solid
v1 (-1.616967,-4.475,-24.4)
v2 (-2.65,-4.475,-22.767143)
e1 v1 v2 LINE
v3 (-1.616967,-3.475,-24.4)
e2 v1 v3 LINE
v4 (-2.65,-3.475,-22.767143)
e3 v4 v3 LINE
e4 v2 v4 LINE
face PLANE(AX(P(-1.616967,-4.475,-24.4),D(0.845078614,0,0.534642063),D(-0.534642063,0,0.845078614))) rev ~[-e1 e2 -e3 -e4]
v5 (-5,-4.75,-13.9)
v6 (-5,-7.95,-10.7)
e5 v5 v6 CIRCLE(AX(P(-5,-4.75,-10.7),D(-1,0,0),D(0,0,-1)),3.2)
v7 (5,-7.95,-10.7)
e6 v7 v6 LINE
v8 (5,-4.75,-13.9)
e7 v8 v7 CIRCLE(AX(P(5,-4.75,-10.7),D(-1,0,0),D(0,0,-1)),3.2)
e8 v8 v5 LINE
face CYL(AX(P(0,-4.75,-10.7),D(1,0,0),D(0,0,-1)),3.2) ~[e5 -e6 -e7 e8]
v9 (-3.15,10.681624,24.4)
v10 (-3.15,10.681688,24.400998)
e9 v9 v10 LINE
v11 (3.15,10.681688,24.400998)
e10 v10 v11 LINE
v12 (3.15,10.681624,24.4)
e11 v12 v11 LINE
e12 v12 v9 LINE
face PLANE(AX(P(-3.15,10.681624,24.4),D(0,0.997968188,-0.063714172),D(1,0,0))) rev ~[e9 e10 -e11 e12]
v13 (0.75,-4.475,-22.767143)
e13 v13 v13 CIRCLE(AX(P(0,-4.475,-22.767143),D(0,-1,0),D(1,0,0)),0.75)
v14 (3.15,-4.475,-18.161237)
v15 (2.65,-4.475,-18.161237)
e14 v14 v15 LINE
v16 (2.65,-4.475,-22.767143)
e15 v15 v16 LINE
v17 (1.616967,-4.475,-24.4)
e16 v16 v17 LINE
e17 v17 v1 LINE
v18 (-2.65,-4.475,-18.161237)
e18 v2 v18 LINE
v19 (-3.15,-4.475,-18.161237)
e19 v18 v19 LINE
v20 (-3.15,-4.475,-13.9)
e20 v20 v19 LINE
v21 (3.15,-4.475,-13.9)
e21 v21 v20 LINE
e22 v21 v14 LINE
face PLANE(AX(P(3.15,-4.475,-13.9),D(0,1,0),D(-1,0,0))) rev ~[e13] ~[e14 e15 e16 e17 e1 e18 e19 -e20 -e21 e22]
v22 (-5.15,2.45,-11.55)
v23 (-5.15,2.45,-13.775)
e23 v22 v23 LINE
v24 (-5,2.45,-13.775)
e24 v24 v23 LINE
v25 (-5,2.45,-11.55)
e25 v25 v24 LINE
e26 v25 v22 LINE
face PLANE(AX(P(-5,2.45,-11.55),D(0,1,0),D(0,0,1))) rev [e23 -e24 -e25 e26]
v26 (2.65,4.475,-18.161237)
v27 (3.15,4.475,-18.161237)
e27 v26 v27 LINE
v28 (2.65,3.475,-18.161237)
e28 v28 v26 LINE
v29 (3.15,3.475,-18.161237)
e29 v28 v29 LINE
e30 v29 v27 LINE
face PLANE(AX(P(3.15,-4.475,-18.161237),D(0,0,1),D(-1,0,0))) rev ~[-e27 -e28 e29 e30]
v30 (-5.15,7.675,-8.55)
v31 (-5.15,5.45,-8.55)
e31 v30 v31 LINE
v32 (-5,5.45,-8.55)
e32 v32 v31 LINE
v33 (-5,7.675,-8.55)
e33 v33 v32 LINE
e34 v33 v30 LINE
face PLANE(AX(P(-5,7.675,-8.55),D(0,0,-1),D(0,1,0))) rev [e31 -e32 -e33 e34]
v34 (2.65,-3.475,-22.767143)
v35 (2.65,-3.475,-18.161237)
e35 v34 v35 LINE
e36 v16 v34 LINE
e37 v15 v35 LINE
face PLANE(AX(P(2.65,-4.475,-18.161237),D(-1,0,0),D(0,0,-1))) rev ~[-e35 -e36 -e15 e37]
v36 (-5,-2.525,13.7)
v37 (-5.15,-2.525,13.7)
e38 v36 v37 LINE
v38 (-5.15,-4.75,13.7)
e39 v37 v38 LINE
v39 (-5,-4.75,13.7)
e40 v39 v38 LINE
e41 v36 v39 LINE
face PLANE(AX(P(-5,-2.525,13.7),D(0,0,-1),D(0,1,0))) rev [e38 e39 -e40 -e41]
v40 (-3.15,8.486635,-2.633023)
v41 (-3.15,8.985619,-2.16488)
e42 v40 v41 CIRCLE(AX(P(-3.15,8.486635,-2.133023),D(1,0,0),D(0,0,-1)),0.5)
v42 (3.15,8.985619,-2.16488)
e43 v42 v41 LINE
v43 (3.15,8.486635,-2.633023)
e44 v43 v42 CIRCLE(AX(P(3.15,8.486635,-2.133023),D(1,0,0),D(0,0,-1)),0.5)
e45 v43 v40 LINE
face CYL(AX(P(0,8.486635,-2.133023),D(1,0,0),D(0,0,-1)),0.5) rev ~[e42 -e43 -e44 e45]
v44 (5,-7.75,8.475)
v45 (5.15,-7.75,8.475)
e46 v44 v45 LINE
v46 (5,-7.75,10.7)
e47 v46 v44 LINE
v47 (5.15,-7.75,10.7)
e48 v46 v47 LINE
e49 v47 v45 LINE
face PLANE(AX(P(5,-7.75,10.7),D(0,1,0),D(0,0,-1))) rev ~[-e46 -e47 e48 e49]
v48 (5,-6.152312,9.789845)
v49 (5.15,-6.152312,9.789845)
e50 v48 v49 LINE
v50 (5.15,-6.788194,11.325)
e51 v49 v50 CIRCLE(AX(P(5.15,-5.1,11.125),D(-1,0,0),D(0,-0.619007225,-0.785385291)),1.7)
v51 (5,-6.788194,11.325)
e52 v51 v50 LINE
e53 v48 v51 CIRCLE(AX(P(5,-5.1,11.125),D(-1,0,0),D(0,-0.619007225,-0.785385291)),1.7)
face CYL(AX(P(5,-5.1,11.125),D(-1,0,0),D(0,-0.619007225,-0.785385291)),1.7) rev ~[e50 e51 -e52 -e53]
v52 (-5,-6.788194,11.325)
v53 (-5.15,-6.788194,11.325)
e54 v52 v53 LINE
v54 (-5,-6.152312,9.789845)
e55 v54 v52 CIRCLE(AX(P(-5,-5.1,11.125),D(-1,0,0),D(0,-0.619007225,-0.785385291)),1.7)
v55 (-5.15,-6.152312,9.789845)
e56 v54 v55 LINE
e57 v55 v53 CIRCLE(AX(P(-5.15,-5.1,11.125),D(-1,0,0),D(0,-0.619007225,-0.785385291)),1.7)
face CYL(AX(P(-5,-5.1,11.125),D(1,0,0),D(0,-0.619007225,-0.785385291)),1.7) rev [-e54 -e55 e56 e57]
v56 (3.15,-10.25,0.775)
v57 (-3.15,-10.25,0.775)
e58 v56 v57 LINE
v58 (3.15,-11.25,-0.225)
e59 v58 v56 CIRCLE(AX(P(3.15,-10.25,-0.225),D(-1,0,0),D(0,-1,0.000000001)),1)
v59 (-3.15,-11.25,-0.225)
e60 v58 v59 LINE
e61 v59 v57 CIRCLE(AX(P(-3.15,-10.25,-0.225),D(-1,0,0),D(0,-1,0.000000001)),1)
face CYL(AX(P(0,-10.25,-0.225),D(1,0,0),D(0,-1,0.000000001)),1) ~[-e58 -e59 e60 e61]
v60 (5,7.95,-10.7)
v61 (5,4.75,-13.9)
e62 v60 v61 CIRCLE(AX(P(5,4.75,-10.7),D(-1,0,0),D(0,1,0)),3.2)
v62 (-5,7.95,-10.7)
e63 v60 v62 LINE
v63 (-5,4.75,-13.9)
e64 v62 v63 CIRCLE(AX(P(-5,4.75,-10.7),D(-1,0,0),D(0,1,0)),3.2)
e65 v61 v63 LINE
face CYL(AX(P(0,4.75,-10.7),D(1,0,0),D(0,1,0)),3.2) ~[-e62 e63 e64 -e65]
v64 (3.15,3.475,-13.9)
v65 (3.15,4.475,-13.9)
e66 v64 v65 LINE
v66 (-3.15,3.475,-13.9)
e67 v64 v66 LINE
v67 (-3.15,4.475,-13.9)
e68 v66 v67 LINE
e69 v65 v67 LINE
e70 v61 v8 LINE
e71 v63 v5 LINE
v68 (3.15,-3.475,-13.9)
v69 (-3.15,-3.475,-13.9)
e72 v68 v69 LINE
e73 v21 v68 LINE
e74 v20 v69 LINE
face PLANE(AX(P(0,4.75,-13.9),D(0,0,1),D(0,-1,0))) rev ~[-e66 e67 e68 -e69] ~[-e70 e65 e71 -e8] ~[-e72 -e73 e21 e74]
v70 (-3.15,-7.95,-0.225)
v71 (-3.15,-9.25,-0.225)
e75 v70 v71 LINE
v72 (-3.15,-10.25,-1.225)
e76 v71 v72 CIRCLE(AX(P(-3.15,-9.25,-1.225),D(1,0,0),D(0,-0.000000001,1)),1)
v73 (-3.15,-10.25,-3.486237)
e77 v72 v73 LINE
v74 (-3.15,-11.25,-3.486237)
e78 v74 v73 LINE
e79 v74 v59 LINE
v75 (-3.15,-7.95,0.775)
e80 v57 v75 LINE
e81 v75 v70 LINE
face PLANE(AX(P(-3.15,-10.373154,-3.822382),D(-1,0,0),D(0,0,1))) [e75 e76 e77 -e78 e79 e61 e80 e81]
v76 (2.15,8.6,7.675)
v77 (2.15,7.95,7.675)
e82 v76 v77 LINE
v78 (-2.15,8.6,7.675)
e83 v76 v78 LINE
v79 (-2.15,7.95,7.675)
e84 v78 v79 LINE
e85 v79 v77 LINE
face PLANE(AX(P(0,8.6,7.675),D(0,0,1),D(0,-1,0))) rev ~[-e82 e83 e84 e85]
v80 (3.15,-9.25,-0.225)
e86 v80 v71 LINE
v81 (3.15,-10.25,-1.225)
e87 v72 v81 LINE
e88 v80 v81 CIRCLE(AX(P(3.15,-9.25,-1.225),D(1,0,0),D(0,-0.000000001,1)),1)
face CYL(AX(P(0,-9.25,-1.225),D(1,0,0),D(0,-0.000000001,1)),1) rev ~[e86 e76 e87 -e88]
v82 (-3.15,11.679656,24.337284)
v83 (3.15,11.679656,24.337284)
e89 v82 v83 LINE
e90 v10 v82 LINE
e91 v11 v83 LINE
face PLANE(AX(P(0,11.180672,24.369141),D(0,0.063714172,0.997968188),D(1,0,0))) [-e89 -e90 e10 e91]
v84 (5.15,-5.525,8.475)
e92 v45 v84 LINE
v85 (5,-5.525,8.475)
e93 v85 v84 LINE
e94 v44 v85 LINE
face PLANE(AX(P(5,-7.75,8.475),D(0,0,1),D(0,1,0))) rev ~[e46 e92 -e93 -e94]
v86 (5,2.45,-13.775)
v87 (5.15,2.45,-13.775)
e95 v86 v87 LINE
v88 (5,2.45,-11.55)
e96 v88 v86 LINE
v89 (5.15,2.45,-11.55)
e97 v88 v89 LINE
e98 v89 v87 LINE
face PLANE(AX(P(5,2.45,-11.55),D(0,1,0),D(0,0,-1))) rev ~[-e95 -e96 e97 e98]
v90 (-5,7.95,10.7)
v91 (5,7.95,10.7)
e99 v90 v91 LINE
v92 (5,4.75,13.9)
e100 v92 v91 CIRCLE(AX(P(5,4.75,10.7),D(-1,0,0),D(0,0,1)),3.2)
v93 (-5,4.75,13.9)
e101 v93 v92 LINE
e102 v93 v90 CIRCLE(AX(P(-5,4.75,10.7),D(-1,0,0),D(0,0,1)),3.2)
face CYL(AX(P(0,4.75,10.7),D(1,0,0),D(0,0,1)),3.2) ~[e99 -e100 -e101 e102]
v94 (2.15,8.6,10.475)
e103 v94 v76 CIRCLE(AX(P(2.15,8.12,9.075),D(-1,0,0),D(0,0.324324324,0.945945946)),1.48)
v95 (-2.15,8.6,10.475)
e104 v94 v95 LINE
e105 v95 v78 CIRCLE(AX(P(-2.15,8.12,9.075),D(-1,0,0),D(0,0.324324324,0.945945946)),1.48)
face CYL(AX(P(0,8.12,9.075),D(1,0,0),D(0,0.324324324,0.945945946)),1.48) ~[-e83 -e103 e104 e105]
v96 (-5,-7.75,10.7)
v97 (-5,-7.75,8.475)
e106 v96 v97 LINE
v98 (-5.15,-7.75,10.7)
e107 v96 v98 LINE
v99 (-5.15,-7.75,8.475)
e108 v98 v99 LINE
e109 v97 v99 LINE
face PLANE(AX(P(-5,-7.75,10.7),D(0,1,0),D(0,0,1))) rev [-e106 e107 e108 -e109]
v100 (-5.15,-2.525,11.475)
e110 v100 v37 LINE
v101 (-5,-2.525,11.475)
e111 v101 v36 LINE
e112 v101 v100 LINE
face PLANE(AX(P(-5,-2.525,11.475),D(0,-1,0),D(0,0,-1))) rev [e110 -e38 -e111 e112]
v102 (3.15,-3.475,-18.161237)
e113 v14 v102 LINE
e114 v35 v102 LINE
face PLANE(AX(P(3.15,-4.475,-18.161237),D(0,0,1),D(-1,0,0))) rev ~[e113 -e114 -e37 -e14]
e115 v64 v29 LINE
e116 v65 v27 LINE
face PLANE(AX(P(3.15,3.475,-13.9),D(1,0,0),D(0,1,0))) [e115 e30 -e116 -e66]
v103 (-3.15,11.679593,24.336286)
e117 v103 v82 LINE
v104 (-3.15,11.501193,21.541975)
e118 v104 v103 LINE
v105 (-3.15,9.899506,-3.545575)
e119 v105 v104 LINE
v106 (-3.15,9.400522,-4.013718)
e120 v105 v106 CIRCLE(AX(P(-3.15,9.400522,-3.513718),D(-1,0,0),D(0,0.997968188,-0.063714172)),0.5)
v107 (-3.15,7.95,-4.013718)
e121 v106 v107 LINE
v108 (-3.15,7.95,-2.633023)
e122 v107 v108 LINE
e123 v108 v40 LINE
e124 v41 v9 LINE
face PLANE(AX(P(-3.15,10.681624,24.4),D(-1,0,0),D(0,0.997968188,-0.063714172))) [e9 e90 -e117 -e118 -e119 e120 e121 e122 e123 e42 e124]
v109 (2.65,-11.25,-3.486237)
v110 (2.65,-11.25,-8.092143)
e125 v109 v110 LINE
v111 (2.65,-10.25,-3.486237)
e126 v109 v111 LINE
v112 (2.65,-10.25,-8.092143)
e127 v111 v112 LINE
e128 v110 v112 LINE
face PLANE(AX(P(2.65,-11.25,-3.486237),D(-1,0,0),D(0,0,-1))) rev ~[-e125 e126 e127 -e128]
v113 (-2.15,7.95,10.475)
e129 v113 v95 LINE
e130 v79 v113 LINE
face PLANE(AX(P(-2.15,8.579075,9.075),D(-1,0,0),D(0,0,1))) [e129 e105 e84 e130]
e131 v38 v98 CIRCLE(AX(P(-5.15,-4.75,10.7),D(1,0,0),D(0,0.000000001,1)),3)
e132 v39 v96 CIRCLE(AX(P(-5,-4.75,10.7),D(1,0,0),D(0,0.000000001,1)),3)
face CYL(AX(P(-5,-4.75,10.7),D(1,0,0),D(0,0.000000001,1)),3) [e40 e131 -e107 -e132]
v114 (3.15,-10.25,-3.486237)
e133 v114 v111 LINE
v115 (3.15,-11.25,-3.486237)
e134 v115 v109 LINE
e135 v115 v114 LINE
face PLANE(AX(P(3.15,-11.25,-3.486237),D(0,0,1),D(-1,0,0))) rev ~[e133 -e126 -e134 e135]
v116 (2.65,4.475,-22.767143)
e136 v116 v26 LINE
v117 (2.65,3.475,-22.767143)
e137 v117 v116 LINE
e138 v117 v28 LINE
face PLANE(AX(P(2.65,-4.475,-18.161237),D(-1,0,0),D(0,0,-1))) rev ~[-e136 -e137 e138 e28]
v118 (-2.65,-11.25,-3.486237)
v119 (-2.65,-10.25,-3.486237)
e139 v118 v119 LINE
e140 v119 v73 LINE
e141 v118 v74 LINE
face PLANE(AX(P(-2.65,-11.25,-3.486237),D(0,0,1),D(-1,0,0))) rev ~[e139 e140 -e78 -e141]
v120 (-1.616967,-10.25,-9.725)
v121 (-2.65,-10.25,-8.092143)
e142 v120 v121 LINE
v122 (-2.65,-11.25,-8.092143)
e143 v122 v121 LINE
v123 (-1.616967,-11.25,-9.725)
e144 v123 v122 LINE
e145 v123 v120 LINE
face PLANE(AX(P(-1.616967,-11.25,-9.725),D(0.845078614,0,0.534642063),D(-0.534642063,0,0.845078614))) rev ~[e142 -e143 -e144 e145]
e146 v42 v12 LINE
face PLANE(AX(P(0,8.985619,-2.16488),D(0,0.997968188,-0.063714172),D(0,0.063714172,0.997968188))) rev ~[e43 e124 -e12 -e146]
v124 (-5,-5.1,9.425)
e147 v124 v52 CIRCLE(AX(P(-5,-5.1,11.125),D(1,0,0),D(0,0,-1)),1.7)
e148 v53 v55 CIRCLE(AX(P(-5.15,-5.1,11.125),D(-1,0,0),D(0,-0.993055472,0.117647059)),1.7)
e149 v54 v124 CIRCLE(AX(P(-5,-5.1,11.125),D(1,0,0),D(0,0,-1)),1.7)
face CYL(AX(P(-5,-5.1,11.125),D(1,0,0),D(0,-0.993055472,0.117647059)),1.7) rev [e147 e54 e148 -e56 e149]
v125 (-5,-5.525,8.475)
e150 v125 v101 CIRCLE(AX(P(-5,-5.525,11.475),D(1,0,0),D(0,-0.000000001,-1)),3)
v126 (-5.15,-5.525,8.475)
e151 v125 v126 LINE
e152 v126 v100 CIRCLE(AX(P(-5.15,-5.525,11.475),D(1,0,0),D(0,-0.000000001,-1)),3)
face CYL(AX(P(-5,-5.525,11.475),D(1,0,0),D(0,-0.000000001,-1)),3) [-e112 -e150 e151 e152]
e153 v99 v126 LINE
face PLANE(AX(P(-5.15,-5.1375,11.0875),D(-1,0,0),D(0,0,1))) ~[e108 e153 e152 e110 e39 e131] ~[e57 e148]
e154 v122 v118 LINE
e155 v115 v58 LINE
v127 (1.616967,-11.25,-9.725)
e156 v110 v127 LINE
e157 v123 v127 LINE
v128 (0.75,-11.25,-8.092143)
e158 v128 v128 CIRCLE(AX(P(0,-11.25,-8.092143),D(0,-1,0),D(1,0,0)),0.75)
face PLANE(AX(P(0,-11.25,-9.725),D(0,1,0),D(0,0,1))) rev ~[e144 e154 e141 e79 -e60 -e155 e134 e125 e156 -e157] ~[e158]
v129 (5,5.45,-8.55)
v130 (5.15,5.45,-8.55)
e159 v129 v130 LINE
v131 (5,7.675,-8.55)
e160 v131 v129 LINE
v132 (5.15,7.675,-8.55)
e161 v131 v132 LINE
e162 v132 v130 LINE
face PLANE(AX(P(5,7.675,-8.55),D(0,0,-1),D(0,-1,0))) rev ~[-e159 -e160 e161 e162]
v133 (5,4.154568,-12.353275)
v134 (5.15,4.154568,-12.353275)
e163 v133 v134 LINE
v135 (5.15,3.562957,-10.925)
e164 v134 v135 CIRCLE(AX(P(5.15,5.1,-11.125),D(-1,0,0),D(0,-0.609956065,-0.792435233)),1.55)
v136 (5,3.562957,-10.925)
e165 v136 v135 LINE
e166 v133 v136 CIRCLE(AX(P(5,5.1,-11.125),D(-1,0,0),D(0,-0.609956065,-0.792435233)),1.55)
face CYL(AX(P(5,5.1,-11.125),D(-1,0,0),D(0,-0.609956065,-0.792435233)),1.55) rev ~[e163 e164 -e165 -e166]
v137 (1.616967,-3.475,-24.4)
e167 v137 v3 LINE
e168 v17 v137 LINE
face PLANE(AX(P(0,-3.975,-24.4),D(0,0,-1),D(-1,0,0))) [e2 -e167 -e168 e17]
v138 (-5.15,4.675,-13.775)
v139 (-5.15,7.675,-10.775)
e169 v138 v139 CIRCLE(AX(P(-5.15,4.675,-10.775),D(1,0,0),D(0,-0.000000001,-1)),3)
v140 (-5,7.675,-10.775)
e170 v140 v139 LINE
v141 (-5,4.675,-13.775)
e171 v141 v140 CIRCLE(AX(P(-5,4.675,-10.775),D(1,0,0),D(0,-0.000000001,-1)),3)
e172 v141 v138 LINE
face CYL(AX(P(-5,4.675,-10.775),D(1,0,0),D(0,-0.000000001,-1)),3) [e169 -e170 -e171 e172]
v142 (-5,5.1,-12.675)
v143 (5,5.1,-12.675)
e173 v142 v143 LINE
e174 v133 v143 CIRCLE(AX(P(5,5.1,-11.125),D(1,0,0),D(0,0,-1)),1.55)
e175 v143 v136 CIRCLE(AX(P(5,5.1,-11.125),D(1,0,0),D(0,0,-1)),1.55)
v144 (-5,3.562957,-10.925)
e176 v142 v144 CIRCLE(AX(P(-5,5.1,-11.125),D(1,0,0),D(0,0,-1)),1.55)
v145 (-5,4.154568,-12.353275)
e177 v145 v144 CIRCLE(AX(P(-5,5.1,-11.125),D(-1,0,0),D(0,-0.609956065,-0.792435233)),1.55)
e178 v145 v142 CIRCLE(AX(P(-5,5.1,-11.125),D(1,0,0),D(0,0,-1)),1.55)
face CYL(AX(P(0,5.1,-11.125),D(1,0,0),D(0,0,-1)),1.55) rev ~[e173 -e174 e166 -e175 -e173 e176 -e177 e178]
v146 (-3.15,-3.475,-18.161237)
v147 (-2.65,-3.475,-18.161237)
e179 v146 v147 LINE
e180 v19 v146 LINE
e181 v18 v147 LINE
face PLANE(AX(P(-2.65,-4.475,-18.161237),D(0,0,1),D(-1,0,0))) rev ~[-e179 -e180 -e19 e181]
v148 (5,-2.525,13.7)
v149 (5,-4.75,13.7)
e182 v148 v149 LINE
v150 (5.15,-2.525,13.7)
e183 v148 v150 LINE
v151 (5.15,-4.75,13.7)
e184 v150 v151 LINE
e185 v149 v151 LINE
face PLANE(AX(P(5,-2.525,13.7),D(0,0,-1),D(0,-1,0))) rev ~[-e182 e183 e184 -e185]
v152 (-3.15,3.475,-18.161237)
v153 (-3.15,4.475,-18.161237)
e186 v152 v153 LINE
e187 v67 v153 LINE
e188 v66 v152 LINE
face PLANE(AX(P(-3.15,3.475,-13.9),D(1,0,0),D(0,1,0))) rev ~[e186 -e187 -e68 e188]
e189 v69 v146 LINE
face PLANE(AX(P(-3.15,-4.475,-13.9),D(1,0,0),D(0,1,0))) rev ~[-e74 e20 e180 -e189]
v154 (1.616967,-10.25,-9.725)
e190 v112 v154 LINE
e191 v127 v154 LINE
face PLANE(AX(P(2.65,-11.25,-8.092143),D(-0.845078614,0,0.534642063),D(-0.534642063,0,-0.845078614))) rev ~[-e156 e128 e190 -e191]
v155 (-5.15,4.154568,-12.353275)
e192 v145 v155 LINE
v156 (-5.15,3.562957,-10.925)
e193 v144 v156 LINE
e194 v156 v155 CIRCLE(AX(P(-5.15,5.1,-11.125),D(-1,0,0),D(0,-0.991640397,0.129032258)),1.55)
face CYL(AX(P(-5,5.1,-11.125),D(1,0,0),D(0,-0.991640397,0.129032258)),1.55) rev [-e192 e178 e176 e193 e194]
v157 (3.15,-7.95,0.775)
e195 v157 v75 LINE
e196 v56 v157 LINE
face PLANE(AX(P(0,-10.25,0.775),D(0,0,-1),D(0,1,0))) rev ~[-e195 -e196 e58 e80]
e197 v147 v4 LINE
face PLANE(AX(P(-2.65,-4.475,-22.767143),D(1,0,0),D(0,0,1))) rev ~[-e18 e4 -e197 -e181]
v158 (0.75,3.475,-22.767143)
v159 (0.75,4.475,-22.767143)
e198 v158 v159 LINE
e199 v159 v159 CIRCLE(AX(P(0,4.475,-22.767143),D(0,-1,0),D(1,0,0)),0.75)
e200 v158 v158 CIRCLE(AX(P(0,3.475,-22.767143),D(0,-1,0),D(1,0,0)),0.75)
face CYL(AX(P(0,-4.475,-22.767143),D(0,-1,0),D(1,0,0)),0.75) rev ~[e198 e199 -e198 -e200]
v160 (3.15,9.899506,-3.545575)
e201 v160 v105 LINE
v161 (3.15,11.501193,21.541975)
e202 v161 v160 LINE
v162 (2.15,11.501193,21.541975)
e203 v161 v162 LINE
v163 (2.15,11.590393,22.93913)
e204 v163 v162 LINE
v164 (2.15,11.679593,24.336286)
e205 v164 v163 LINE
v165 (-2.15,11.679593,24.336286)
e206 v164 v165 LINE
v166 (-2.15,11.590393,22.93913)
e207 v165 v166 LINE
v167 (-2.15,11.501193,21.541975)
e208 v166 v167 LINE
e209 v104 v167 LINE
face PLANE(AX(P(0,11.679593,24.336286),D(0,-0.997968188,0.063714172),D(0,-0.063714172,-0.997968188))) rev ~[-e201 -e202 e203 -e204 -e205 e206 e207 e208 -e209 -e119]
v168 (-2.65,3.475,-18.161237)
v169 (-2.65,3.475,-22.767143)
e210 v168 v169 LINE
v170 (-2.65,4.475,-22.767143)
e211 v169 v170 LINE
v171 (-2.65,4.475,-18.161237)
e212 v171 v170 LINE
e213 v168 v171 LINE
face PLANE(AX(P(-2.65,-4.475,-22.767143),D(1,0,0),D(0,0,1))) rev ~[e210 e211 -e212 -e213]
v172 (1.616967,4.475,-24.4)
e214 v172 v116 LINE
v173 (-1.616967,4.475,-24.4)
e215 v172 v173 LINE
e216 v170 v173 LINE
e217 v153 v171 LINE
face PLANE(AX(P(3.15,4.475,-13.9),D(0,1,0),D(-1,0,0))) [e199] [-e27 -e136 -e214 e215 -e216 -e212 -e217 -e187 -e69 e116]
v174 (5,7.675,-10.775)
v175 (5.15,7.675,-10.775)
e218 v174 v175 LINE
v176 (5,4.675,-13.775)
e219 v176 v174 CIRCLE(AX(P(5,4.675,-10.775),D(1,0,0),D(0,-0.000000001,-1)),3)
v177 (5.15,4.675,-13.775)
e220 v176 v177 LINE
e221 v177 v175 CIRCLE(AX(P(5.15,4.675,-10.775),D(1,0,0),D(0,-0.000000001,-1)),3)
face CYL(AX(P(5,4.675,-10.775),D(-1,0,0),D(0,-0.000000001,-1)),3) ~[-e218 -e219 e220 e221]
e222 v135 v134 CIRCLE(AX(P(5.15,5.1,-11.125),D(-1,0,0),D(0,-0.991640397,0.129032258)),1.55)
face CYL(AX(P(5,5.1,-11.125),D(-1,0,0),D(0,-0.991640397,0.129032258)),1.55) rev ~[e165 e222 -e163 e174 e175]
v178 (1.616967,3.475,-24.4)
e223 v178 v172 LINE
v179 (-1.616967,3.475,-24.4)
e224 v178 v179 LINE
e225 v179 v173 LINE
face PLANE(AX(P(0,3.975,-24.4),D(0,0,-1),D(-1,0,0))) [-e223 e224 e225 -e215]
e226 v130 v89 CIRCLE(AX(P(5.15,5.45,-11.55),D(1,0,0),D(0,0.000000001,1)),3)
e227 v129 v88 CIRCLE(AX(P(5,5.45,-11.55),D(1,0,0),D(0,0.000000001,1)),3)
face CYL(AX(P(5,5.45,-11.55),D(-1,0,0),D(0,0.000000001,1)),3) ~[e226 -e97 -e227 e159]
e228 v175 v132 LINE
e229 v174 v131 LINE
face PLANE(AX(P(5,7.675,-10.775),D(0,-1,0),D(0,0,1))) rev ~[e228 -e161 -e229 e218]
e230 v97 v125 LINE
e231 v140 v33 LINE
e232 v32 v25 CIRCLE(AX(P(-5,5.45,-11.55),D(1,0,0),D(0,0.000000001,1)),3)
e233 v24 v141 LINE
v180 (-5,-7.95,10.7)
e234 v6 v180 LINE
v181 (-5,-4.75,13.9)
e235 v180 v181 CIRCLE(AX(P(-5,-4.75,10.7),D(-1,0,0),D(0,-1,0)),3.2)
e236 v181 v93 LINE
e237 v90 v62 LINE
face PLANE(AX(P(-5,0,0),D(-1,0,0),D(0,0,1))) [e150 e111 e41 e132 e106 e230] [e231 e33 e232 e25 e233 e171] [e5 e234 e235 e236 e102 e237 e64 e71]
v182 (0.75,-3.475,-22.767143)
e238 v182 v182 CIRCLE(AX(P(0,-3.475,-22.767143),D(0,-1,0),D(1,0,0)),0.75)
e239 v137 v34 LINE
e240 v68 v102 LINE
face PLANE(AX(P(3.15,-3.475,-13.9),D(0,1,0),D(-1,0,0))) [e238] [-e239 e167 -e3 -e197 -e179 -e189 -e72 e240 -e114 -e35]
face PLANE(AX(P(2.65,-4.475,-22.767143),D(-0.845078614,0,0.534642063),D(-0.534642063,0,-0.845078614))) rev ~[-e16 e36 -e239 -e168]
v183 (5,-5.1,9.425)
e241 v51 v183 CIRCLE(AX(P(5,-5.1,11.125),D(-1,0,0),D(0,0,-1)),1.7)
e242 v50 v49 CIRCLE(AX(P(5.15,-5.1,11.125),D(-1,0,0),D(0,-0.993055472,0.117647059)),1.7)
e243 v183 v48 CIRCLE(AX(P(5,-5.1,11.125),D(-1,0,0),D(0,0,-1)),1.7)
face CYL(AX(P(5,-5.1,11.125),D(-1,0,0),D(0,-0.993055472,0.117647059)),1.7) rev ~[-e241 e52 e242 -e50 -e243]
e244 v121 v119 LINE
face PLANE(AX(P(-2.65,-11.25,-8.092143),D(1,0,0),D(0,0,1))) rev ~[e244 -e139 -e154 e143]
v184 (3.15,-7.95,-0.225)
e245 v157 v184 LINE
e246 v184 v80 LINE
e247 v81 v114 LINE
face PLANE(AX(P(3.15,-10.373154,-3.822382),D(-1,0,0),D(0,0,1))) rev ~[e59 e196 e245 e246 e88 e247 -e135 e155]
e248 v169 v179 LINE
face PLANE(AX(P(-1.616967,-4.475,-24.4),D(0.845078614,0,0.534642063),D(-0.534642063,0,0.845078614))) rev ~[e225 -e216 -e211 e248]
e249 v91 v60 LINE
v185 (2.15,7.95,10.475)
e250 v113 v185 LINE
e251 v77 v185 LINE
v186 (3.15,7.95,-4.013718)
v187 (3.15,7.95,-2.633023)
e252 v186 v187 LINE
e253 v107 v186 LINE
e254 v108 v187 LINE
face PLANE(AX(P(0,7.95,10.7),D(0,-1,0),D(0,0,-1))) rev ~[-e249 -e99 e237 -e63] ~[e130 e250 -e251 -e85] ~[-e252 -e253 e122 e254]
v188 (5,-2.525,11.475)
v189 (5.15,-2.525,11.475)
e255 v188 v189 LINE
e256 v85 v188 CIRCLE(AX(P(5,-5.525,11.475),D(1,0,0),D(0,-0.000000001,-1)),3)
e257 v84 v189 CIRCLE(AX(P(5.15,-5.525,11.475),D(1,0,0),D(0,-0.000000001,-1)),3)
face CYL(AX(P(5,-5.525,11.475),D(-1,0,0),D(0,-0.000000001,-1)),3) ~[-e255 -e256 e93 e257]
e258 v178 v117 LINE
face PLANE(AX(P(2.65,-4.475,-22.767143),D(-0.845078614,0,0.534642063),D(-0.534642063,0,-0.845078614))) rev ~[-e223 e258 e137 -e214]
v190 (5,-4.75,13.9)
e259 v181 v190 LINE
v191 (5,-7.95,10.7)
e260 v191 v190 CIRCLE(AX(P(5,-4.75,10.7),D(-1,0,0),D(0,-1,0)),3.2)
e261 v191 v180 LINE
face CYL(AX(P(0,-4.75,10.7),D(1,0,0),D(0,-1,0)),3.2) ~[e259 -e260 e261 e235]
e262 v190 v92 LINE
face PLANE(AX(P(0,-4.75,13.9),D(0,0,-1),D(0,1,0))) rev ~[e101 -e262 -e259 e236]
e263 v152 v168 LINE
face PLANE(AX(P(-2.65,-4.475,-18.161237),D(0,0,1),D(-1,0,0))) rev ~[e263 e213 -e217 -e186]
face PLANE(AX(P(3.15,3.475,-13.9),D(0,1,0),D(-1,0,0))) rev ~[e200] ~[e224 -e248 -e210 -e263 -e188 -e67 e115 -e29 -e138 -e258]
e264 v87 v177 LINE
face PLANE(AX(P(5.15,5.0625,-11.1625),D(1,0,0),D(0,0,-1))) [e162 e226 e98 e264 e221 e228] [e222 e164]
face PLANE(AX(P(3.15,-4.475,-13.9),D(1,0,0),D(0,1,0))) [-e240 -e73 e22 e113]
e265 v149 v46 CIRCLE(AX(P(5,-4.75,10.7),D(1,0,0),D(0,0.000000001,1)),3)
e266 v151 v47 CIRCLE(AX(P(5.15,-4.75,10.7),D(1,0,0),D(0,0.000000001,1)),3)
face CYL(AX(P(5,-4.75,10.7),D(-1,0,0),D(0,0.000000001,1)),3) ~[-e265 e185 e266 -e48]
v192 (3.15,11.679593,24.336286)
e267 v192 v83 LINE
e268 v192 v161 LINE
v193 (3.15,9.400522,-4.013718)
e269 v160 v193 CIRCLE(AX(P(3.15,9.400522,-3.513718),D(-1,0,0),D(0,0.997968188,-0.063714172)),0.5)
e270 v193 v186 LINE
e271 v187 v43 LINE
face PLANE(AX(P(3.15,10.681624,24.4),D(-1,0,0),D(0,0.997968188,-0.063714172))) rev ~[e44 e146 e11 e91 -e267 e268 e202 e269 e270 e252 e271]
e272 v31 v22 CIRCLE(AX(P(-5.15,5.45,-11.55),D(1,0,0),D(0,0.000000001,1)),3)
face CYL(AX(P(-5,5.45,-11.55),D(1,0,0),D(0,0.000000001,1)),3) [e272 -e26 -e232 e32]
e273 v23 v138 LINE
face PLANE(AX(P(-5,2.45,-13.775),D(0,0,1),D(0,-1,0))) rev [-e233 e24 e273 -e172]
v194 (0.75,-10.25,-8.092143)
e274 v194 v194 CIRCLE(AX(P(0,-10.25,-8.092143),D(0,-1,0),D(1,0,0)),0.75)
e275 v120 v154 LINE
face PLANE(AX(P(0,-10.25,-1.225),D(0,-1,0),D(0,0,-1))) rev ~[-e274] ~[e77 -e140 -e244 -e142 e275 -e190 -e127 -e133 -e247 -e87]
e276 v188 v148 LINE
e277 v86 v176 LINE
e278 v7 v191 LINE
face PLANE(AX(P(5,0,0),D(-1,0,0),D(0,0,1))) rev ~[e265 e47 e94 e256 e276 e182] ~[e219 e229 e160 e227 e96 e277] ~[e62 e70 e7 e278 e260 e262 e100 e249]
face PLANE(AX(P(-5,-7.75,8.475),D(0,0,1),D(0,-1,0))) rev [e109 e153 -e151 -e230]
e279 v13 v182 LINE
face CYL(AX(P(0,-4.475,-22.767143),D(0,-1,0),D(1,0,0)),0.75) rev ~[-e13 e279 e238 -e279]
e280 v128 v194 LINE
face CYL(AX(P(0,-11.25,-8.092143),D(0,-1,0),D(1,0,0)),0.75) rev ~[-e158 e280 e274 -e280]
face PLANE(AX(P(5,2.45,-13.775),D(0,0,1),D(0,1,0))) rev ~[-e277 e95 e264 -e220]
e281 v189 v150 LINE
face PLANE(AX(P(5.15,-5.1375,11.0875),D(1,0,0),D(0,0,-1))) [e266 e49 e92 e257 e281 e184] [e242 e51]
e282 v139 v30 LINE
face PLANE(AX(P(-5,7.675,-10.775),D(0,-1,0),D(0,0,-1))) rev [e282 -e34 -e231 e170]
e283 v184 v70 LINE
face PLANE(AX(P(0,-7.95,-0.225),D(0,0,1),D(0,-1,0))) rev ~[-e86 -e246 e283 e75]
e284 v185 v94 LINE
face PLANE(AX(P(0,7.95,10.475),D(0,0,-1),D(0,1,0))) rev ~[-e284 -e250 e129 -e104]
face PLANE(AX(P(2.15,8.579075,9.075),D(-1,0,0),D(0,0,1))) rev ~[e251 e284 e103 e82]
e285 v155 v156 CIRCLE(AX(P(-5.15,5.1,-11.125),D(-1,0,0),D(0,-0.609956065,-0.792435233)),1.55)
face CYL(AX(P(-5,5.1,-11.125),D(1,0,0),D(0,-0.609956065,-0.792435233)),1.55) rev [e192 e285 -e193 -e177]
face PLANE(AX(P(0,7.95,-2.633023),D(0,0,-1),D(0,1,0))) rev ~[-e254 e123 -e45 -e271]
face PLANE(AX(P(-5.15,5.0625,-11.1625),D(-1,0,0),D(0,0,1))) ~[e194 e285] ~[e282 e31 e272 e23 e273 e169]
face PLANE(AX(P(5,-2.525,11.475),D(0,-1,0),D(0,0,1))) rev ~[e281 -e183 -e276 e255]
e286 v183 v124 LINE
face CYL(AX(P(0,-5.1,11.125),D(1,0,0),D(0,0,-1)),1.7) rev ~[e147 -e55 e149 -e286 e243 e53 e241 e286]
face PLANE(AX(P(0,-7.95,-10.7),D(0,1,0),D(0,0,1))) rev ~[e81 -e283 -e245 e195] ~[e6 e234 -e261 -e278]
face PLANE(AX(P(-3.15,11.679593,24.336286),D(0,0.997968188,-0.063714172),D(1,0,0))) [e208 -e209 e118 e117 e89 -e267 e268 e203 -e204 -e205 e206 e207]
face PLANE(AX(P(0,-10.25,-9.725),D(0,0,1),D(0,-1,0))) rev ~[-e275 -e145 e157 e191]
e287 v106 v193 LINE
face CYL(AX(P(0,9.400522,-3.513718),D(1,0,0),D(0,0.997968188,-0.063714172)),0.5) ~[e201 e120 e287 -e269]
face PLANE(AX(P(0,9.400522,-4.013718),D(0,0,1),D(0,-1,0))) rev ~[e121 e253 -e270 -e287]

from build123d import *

# Parameters (mm, degrees)
BLOCOBASE_DEPTH           = 5
SKFIXACAO_R               = 1.7
SKFIXACAO_R_2             = 1.55
FIXACAO_DEPTH             = 5.15
RESSALTOFIXACAO_DEPTH     = 0.15
BOTAO_DEPTH               = 2.15
SKETCH5_W                 = 6.3
SKETCH5_H                 = 1
BASECONECTORNONC_DEPTH    = 10.5
SKDESENHOCONECTORNONC_R   = 0.75
DESENHOCONECTORNONC_DEPTH = 20.5
BASECONECTORCOM_DEPTH     = 3.15
SKDESENHOCONECTORCOM_R    = 0.75
DESENHOCONECTORCOM_DEPTH  = 1
BASECONTATO_DEPTH         = 3.15
SKAPOIOROLO_R             = 0.7
APOIOROLO_DEPTH           = 1
SKROLO_R                  = 2.5
ROLO_DEPTH                = 4.3
SKETCH6_W                 = 15.037683952
SKETCH6_H                 = 10.848275608
CUT_EXTRUDE1_DEPTH        = 10
SKETCH7_W                 = 6.3
SKETCH7_H                 = 1
BOSS_EXTRUDE1_DEPTH       = 0.001


with BuildPart() as part:
    # skBlocoBase → BlocoBase (new body, symmetric)
    with BuildSketch(Plane(origin=(0, 0, 0), x_dir=(0, 0, -1), z_dir=(1, 0, 0))):
        with BuildLine():
            Line((-10.7, 7.95), (10.7, 7.95))
            ThreePointArc((10.7, 7.95), (12.9627417, 7.0127417), (13.9, 4.75))
            Line((13.9, 4.75), (13.9, -4.75))
            ThreePointArc((13.9, -4.75), (12.9627417, -7.0127417), (10.7, -7.95))
            Line((10.7, -7.95), (-10.7, -7.95))
            ThreePointArc((-10.7, -7.95), (-12.9627417, -7.0127417), (-13.9, -4.75))
            Line((-13.9, -4.75), (-13.9, 4.75))
            ThreePointArc((-13.9, 4.75), (-12.9627417, 7.0127417), (-10.7, 7.95))
        make_face()
    extrude(amount=BLOCOBASE_DEPTH, both=True)

    # skFixacao → Fixacao (cut, symmetric)
    with BuildSketch(Plane(origin=(0, 0, 0), x_dir=(0, 0, -1), z_dir=(1, 0, 0))):
        with Locations((-11.125, -5.1)):
            Circle(SKFIXACAO_R)
        with Locations((11.125, 5.1)):
            Circle(SKFIXACAO_R_2)
    extrude(amount=FIXACAO_DEPTH, both=True, mode=Mode.SUBTRACT)

    # skRessaltoFixacao → RessaltoFixacao (add)
    with BuildSketch(Plane(origin=(5, 0, 0), x_dir=(0, 0, -1), z_dir=(1, 0, 0))):
        with BuildLine():
            ThreePointArc((-8.475, -5.525), (-9.353679656, -3.403679656), (-11.475, -2.525))
            Line((-11.475, -2.525), (-13.7, -2.525))
            Line((-13.7, -2.525), (-13.7, -4.75))
            ThreePointArc((-13.7, -4.75), (-12.821320344, -6.871320344), (-10.7, -7.75))
            Line((-10.7, -7.75), (-8.475, -7.75))
            Line((-8.475, -7.75), (-8.475, -5.525))
        make_face()
        with BuildLine():
            ThreePointArc((-9.789845005, -6.152312282), (-10.474438165, -6.670595205), (-11.325, -6.788194302))
            ThreePointArc((-11.325, -6.788194302), (-11.775561835, -3.529404795), (-9.789845005, -6.152312282))
        make_face(mode=Mode.SUBTRACT)
        with BuildLine():
            ThreePointArc((13.775, 4.675), (12.896320344, 6.796320344), (10.775, 7.675))
            Line((10.775, 7.675), (8.55, 7.675))
            Line((8.55, 7.675), (8.55, 5.45))
            ThreePointArc((8.55, 5.45), (9.428679656, 3.328679656), (11.55, 2.45))
            Line((11.55, 2.45), (13.775, 2.45))
            Line((13.775, 2.45), (13.775, 4.675))
        make_face()
        with BuildLine():
            ThreePointArc((12.353274612, 4.1545681), (11.71815932, 3.667986725), (10.925, 3.562957385))
            ThreePointArc((10.925, 3.562957385), (10.53184068, 6.532013275), (12.353274612, 4.1545681))
        make_face(mode=Mode.SUBTRACT)
    ressaltofixacao = extrude(amount=RESSALTOFIXACAO_DEPTH)

    # MirrorRessaltoFixacao: RessaltoFixacao across plane
    add(ressaltofixacao.mirror(Plane(origin=(0, 0, 0), x_dir=(0, 0, 1), z_dir=(1, 0, 0))))

    # skBotao → Botao (add, symmetric)
    with BuildSketch(Plane(origin=(0, 0, 0), x_dir=(0, 0, -1), z_dir=(1, 0, 0))):
        with BuildLine():
            Line((-10.475, 7.95), (-10.475, 8.6))
            ThreePointArc((-10.475, 8.6), (-9.075, 9.6), (-7.675, 8.6))
            Line((-7.675, 8.6), (-7.675, 7.95))
            Line((-7.675, 7.95), (-10.475, 7.95))
        make_face()
    extrude(amount=BOTAO_DEPTH, both=True)

    # Sketch5 → BaseConectorNONC (add)
    with BuildSketch(Plane(origin=(0, 0, -13.9), x_dir=(-1, 0, 0), z_dir=(0, 0, -1))):
        with Locations((0, -3.975)):
            Rectangle(SKETCH5_W, SKETCH5_H)
        with Locations((0, 3.975)):
            Rectangle(SKETCH5_W, SKETCH5_H)
    extrude(amount=BASECONECTORNONC_DEPTH)

    # skDesenhoConectorNONC → DesenhoConectorNONC (cut)
    with BuildSketch(Plane.XZ.offset(4.475)):
        Polygon((2.65, -22.767142952), (1.616967042, -24.4), (3.15, -24.4), (3.15, -18.161236833), (2.65, -18.161236833), align=None)
        Polygon((-3.15, -24.4), (-1.616967042, -24.4), (-2.65, -22.767142952), (-2.65, -18.161236833), (-3.15, -18.161236833), align=None)
        with Locations((0, -22.767142952)):
            Circle(SKDESENHOCONECTORNONC_R)
    extrude(amount=-DESENHOCONECTORNONC_DEPTH, mode=Mode.SUBTRACT)

    # skBaseConectorCOM → BaseConectorCOM (add, symmetric)
    with BuildSketch(Plane(origin=(0, 0, 0), x_dir=(0, 0, -1), z_dir=(1, 0, 0))):
        with BuildLine():
            Line((9.725, -11.25), (0.225, -11.25))
            ThreePointArc((0.225, -11.25), (-0.482106781, -10.957106781), (-0.775, -10.25))
            Line((-0.775, -10.25), (-0.775, -7.95))
            Line((-0.775, -7.95), (0.225, -7.95))
            Line((0.225, -7.95), (0.225, -9.25))
            ThreePointArc((0.225, -9.25), (0.517893219, -9.957106781), (1.225, -10.25))
            Line((1.225, -10.25), (9.725, -10.25))
            Line((9.725, -10.25), (9.725, -11.25))
        make_face()
    extrude(amount=BASECONECTORCOM_DEPTH, both=True)

    # skDesenhoConectorCOM → DesenhoConectorCOM (cut)
    with BuildSketch(Plane.XZ.offset(11.25)):
        Polygon((2.65, -8.092142952), (1.616967042, -9.725), (3.15, -9.725), (3.15, -3.486236833), (2.65, -3.486236833), align=None)
        Polygon((-3.15, -9.725), (-1.616967042, -9.725), (-2.65, -8.092142952), (-2.65, -3.486236833), (-3.15, -3.486236833), align=None)
        with Locations((0, -8.092142952)):
            Circle(SKDESENHOCONECTORCOM_R)
    extrude(amount=-DESENHOCONECTORCOM_DEPTH, mode=Mode.SUBTRACT)

    # skBaseContato → BaseContato (add, symmetric)
    with BuildSketch(Plane(origin=(0, 0, 0), x_dir=(0, 0, -1), z_dir=(1, 0, 0))):
        with BuildLine():
            Line((2.63302332, 7.95), (2.63302332, 8.486635004))
            ThreePointArc((2.63302332, 8.486635004), (2.497665983, 8.828739854), (2.164880406, 8.985619098))
            Line((2.164880406, 8.985619098), (-24.4, 10.681624431))
            Line((-24.4, 10.681624431), (-24.336285828, 11.679592619))
            Line((-24.336285828, 11.679592619), (3.545575005, 9.899506131))
            ThreePointArc((3.545575005, 9.899506131), (3.878360582, 9.742626887), (4.013717919, 9.400522037))
            Line((4.013717919, 9.400522037), (4.013717919, 7.95))
            Line((4.013717919, 7.95), (2.63302332, 7.95))
        make_face()
    extrude(amount=BASECONTATO_DEPTH, both=True)

    # skApoioRolo → ApoioRolo (add)
    with BuildSketch(Plane(origin=(3.15, 0, 0), x_dir=(0, 0, -1), z_dir=(1, 0, 0))):
        with BuildLine():
            ThreePointArc((-21.354211514, 14.486814776), (-22.754211514, 15.886814776), (-24.154211514, 14.486814776))
            Line((-24.154211514, 14.486814776), (-24.336285828, 11.679592619))
            Line((-24.336285828, 11.679592619), (-22.939130364, 11.590392778))
            Line((-22.939130364, 11.590392778), (-21.541974901, 11.501192936))
            Line((-21.541974901, 11.501192936), (-21.365242034, 14.3114187))
            Line((-21.365242034, 14.3114187), (-21.354211514, 14.486814776))
        make_face()
        with Locations((-22.754211514, 14.486814776)):
            Circle(SKAPOIOROLO_R, mode=Mode.SUBTRACT)
    apoiorolo = extrude(amount=-APOIOROLO_DEPTH)

    # MirrorApoioRolo: ApoioRolo across plane
    add(apoiorolo.mirror(Plane(origin=(0, 0, 0), x_dir=(0, 0, 1), z_dir=(1, 0, 0))))

    # skRolo → Rolo (add)
    with BuildSketch(Plane.ZY.offset(-2.15)):
        with Locations((22.754211514, 14.486814776)):
            Circle(SKROLO_R)
    extrude(amount=ROLO_DEPTH)

    # Sketch6 → Cut-Extrude1 (cut)
    with BuildSketch(Plane(origin=(0, 10.084763511, -0.643850544), x_dir=(1, 0, 0), z_dir=(0, 0.997968188, -0.063714172))):
        with Locations((-4.368841976, -23.671158356)):
            Rectangle(SKETCH6_W, SKETCH6_H)
    extrude(amount=CUT_EXTRUDE1_DEPTH, mode=Mode.SUBTRACT)

    # Sketch7 → Boss-Extrude1 (add)
    with BuildSketch(Plane(origin=(0, 1.594829108, 24.980136372), x_dir=(1, 0, 0), z_dir=(0, 0.063714172, 0.997968188))):
        with Locations((0, 9.605295572)):
            Rectangle(SKETCH7_W, SKETCH7_H)
    extrude(amount=BOSS_EXTRUDE1_DEPTH)


solid = part.part
